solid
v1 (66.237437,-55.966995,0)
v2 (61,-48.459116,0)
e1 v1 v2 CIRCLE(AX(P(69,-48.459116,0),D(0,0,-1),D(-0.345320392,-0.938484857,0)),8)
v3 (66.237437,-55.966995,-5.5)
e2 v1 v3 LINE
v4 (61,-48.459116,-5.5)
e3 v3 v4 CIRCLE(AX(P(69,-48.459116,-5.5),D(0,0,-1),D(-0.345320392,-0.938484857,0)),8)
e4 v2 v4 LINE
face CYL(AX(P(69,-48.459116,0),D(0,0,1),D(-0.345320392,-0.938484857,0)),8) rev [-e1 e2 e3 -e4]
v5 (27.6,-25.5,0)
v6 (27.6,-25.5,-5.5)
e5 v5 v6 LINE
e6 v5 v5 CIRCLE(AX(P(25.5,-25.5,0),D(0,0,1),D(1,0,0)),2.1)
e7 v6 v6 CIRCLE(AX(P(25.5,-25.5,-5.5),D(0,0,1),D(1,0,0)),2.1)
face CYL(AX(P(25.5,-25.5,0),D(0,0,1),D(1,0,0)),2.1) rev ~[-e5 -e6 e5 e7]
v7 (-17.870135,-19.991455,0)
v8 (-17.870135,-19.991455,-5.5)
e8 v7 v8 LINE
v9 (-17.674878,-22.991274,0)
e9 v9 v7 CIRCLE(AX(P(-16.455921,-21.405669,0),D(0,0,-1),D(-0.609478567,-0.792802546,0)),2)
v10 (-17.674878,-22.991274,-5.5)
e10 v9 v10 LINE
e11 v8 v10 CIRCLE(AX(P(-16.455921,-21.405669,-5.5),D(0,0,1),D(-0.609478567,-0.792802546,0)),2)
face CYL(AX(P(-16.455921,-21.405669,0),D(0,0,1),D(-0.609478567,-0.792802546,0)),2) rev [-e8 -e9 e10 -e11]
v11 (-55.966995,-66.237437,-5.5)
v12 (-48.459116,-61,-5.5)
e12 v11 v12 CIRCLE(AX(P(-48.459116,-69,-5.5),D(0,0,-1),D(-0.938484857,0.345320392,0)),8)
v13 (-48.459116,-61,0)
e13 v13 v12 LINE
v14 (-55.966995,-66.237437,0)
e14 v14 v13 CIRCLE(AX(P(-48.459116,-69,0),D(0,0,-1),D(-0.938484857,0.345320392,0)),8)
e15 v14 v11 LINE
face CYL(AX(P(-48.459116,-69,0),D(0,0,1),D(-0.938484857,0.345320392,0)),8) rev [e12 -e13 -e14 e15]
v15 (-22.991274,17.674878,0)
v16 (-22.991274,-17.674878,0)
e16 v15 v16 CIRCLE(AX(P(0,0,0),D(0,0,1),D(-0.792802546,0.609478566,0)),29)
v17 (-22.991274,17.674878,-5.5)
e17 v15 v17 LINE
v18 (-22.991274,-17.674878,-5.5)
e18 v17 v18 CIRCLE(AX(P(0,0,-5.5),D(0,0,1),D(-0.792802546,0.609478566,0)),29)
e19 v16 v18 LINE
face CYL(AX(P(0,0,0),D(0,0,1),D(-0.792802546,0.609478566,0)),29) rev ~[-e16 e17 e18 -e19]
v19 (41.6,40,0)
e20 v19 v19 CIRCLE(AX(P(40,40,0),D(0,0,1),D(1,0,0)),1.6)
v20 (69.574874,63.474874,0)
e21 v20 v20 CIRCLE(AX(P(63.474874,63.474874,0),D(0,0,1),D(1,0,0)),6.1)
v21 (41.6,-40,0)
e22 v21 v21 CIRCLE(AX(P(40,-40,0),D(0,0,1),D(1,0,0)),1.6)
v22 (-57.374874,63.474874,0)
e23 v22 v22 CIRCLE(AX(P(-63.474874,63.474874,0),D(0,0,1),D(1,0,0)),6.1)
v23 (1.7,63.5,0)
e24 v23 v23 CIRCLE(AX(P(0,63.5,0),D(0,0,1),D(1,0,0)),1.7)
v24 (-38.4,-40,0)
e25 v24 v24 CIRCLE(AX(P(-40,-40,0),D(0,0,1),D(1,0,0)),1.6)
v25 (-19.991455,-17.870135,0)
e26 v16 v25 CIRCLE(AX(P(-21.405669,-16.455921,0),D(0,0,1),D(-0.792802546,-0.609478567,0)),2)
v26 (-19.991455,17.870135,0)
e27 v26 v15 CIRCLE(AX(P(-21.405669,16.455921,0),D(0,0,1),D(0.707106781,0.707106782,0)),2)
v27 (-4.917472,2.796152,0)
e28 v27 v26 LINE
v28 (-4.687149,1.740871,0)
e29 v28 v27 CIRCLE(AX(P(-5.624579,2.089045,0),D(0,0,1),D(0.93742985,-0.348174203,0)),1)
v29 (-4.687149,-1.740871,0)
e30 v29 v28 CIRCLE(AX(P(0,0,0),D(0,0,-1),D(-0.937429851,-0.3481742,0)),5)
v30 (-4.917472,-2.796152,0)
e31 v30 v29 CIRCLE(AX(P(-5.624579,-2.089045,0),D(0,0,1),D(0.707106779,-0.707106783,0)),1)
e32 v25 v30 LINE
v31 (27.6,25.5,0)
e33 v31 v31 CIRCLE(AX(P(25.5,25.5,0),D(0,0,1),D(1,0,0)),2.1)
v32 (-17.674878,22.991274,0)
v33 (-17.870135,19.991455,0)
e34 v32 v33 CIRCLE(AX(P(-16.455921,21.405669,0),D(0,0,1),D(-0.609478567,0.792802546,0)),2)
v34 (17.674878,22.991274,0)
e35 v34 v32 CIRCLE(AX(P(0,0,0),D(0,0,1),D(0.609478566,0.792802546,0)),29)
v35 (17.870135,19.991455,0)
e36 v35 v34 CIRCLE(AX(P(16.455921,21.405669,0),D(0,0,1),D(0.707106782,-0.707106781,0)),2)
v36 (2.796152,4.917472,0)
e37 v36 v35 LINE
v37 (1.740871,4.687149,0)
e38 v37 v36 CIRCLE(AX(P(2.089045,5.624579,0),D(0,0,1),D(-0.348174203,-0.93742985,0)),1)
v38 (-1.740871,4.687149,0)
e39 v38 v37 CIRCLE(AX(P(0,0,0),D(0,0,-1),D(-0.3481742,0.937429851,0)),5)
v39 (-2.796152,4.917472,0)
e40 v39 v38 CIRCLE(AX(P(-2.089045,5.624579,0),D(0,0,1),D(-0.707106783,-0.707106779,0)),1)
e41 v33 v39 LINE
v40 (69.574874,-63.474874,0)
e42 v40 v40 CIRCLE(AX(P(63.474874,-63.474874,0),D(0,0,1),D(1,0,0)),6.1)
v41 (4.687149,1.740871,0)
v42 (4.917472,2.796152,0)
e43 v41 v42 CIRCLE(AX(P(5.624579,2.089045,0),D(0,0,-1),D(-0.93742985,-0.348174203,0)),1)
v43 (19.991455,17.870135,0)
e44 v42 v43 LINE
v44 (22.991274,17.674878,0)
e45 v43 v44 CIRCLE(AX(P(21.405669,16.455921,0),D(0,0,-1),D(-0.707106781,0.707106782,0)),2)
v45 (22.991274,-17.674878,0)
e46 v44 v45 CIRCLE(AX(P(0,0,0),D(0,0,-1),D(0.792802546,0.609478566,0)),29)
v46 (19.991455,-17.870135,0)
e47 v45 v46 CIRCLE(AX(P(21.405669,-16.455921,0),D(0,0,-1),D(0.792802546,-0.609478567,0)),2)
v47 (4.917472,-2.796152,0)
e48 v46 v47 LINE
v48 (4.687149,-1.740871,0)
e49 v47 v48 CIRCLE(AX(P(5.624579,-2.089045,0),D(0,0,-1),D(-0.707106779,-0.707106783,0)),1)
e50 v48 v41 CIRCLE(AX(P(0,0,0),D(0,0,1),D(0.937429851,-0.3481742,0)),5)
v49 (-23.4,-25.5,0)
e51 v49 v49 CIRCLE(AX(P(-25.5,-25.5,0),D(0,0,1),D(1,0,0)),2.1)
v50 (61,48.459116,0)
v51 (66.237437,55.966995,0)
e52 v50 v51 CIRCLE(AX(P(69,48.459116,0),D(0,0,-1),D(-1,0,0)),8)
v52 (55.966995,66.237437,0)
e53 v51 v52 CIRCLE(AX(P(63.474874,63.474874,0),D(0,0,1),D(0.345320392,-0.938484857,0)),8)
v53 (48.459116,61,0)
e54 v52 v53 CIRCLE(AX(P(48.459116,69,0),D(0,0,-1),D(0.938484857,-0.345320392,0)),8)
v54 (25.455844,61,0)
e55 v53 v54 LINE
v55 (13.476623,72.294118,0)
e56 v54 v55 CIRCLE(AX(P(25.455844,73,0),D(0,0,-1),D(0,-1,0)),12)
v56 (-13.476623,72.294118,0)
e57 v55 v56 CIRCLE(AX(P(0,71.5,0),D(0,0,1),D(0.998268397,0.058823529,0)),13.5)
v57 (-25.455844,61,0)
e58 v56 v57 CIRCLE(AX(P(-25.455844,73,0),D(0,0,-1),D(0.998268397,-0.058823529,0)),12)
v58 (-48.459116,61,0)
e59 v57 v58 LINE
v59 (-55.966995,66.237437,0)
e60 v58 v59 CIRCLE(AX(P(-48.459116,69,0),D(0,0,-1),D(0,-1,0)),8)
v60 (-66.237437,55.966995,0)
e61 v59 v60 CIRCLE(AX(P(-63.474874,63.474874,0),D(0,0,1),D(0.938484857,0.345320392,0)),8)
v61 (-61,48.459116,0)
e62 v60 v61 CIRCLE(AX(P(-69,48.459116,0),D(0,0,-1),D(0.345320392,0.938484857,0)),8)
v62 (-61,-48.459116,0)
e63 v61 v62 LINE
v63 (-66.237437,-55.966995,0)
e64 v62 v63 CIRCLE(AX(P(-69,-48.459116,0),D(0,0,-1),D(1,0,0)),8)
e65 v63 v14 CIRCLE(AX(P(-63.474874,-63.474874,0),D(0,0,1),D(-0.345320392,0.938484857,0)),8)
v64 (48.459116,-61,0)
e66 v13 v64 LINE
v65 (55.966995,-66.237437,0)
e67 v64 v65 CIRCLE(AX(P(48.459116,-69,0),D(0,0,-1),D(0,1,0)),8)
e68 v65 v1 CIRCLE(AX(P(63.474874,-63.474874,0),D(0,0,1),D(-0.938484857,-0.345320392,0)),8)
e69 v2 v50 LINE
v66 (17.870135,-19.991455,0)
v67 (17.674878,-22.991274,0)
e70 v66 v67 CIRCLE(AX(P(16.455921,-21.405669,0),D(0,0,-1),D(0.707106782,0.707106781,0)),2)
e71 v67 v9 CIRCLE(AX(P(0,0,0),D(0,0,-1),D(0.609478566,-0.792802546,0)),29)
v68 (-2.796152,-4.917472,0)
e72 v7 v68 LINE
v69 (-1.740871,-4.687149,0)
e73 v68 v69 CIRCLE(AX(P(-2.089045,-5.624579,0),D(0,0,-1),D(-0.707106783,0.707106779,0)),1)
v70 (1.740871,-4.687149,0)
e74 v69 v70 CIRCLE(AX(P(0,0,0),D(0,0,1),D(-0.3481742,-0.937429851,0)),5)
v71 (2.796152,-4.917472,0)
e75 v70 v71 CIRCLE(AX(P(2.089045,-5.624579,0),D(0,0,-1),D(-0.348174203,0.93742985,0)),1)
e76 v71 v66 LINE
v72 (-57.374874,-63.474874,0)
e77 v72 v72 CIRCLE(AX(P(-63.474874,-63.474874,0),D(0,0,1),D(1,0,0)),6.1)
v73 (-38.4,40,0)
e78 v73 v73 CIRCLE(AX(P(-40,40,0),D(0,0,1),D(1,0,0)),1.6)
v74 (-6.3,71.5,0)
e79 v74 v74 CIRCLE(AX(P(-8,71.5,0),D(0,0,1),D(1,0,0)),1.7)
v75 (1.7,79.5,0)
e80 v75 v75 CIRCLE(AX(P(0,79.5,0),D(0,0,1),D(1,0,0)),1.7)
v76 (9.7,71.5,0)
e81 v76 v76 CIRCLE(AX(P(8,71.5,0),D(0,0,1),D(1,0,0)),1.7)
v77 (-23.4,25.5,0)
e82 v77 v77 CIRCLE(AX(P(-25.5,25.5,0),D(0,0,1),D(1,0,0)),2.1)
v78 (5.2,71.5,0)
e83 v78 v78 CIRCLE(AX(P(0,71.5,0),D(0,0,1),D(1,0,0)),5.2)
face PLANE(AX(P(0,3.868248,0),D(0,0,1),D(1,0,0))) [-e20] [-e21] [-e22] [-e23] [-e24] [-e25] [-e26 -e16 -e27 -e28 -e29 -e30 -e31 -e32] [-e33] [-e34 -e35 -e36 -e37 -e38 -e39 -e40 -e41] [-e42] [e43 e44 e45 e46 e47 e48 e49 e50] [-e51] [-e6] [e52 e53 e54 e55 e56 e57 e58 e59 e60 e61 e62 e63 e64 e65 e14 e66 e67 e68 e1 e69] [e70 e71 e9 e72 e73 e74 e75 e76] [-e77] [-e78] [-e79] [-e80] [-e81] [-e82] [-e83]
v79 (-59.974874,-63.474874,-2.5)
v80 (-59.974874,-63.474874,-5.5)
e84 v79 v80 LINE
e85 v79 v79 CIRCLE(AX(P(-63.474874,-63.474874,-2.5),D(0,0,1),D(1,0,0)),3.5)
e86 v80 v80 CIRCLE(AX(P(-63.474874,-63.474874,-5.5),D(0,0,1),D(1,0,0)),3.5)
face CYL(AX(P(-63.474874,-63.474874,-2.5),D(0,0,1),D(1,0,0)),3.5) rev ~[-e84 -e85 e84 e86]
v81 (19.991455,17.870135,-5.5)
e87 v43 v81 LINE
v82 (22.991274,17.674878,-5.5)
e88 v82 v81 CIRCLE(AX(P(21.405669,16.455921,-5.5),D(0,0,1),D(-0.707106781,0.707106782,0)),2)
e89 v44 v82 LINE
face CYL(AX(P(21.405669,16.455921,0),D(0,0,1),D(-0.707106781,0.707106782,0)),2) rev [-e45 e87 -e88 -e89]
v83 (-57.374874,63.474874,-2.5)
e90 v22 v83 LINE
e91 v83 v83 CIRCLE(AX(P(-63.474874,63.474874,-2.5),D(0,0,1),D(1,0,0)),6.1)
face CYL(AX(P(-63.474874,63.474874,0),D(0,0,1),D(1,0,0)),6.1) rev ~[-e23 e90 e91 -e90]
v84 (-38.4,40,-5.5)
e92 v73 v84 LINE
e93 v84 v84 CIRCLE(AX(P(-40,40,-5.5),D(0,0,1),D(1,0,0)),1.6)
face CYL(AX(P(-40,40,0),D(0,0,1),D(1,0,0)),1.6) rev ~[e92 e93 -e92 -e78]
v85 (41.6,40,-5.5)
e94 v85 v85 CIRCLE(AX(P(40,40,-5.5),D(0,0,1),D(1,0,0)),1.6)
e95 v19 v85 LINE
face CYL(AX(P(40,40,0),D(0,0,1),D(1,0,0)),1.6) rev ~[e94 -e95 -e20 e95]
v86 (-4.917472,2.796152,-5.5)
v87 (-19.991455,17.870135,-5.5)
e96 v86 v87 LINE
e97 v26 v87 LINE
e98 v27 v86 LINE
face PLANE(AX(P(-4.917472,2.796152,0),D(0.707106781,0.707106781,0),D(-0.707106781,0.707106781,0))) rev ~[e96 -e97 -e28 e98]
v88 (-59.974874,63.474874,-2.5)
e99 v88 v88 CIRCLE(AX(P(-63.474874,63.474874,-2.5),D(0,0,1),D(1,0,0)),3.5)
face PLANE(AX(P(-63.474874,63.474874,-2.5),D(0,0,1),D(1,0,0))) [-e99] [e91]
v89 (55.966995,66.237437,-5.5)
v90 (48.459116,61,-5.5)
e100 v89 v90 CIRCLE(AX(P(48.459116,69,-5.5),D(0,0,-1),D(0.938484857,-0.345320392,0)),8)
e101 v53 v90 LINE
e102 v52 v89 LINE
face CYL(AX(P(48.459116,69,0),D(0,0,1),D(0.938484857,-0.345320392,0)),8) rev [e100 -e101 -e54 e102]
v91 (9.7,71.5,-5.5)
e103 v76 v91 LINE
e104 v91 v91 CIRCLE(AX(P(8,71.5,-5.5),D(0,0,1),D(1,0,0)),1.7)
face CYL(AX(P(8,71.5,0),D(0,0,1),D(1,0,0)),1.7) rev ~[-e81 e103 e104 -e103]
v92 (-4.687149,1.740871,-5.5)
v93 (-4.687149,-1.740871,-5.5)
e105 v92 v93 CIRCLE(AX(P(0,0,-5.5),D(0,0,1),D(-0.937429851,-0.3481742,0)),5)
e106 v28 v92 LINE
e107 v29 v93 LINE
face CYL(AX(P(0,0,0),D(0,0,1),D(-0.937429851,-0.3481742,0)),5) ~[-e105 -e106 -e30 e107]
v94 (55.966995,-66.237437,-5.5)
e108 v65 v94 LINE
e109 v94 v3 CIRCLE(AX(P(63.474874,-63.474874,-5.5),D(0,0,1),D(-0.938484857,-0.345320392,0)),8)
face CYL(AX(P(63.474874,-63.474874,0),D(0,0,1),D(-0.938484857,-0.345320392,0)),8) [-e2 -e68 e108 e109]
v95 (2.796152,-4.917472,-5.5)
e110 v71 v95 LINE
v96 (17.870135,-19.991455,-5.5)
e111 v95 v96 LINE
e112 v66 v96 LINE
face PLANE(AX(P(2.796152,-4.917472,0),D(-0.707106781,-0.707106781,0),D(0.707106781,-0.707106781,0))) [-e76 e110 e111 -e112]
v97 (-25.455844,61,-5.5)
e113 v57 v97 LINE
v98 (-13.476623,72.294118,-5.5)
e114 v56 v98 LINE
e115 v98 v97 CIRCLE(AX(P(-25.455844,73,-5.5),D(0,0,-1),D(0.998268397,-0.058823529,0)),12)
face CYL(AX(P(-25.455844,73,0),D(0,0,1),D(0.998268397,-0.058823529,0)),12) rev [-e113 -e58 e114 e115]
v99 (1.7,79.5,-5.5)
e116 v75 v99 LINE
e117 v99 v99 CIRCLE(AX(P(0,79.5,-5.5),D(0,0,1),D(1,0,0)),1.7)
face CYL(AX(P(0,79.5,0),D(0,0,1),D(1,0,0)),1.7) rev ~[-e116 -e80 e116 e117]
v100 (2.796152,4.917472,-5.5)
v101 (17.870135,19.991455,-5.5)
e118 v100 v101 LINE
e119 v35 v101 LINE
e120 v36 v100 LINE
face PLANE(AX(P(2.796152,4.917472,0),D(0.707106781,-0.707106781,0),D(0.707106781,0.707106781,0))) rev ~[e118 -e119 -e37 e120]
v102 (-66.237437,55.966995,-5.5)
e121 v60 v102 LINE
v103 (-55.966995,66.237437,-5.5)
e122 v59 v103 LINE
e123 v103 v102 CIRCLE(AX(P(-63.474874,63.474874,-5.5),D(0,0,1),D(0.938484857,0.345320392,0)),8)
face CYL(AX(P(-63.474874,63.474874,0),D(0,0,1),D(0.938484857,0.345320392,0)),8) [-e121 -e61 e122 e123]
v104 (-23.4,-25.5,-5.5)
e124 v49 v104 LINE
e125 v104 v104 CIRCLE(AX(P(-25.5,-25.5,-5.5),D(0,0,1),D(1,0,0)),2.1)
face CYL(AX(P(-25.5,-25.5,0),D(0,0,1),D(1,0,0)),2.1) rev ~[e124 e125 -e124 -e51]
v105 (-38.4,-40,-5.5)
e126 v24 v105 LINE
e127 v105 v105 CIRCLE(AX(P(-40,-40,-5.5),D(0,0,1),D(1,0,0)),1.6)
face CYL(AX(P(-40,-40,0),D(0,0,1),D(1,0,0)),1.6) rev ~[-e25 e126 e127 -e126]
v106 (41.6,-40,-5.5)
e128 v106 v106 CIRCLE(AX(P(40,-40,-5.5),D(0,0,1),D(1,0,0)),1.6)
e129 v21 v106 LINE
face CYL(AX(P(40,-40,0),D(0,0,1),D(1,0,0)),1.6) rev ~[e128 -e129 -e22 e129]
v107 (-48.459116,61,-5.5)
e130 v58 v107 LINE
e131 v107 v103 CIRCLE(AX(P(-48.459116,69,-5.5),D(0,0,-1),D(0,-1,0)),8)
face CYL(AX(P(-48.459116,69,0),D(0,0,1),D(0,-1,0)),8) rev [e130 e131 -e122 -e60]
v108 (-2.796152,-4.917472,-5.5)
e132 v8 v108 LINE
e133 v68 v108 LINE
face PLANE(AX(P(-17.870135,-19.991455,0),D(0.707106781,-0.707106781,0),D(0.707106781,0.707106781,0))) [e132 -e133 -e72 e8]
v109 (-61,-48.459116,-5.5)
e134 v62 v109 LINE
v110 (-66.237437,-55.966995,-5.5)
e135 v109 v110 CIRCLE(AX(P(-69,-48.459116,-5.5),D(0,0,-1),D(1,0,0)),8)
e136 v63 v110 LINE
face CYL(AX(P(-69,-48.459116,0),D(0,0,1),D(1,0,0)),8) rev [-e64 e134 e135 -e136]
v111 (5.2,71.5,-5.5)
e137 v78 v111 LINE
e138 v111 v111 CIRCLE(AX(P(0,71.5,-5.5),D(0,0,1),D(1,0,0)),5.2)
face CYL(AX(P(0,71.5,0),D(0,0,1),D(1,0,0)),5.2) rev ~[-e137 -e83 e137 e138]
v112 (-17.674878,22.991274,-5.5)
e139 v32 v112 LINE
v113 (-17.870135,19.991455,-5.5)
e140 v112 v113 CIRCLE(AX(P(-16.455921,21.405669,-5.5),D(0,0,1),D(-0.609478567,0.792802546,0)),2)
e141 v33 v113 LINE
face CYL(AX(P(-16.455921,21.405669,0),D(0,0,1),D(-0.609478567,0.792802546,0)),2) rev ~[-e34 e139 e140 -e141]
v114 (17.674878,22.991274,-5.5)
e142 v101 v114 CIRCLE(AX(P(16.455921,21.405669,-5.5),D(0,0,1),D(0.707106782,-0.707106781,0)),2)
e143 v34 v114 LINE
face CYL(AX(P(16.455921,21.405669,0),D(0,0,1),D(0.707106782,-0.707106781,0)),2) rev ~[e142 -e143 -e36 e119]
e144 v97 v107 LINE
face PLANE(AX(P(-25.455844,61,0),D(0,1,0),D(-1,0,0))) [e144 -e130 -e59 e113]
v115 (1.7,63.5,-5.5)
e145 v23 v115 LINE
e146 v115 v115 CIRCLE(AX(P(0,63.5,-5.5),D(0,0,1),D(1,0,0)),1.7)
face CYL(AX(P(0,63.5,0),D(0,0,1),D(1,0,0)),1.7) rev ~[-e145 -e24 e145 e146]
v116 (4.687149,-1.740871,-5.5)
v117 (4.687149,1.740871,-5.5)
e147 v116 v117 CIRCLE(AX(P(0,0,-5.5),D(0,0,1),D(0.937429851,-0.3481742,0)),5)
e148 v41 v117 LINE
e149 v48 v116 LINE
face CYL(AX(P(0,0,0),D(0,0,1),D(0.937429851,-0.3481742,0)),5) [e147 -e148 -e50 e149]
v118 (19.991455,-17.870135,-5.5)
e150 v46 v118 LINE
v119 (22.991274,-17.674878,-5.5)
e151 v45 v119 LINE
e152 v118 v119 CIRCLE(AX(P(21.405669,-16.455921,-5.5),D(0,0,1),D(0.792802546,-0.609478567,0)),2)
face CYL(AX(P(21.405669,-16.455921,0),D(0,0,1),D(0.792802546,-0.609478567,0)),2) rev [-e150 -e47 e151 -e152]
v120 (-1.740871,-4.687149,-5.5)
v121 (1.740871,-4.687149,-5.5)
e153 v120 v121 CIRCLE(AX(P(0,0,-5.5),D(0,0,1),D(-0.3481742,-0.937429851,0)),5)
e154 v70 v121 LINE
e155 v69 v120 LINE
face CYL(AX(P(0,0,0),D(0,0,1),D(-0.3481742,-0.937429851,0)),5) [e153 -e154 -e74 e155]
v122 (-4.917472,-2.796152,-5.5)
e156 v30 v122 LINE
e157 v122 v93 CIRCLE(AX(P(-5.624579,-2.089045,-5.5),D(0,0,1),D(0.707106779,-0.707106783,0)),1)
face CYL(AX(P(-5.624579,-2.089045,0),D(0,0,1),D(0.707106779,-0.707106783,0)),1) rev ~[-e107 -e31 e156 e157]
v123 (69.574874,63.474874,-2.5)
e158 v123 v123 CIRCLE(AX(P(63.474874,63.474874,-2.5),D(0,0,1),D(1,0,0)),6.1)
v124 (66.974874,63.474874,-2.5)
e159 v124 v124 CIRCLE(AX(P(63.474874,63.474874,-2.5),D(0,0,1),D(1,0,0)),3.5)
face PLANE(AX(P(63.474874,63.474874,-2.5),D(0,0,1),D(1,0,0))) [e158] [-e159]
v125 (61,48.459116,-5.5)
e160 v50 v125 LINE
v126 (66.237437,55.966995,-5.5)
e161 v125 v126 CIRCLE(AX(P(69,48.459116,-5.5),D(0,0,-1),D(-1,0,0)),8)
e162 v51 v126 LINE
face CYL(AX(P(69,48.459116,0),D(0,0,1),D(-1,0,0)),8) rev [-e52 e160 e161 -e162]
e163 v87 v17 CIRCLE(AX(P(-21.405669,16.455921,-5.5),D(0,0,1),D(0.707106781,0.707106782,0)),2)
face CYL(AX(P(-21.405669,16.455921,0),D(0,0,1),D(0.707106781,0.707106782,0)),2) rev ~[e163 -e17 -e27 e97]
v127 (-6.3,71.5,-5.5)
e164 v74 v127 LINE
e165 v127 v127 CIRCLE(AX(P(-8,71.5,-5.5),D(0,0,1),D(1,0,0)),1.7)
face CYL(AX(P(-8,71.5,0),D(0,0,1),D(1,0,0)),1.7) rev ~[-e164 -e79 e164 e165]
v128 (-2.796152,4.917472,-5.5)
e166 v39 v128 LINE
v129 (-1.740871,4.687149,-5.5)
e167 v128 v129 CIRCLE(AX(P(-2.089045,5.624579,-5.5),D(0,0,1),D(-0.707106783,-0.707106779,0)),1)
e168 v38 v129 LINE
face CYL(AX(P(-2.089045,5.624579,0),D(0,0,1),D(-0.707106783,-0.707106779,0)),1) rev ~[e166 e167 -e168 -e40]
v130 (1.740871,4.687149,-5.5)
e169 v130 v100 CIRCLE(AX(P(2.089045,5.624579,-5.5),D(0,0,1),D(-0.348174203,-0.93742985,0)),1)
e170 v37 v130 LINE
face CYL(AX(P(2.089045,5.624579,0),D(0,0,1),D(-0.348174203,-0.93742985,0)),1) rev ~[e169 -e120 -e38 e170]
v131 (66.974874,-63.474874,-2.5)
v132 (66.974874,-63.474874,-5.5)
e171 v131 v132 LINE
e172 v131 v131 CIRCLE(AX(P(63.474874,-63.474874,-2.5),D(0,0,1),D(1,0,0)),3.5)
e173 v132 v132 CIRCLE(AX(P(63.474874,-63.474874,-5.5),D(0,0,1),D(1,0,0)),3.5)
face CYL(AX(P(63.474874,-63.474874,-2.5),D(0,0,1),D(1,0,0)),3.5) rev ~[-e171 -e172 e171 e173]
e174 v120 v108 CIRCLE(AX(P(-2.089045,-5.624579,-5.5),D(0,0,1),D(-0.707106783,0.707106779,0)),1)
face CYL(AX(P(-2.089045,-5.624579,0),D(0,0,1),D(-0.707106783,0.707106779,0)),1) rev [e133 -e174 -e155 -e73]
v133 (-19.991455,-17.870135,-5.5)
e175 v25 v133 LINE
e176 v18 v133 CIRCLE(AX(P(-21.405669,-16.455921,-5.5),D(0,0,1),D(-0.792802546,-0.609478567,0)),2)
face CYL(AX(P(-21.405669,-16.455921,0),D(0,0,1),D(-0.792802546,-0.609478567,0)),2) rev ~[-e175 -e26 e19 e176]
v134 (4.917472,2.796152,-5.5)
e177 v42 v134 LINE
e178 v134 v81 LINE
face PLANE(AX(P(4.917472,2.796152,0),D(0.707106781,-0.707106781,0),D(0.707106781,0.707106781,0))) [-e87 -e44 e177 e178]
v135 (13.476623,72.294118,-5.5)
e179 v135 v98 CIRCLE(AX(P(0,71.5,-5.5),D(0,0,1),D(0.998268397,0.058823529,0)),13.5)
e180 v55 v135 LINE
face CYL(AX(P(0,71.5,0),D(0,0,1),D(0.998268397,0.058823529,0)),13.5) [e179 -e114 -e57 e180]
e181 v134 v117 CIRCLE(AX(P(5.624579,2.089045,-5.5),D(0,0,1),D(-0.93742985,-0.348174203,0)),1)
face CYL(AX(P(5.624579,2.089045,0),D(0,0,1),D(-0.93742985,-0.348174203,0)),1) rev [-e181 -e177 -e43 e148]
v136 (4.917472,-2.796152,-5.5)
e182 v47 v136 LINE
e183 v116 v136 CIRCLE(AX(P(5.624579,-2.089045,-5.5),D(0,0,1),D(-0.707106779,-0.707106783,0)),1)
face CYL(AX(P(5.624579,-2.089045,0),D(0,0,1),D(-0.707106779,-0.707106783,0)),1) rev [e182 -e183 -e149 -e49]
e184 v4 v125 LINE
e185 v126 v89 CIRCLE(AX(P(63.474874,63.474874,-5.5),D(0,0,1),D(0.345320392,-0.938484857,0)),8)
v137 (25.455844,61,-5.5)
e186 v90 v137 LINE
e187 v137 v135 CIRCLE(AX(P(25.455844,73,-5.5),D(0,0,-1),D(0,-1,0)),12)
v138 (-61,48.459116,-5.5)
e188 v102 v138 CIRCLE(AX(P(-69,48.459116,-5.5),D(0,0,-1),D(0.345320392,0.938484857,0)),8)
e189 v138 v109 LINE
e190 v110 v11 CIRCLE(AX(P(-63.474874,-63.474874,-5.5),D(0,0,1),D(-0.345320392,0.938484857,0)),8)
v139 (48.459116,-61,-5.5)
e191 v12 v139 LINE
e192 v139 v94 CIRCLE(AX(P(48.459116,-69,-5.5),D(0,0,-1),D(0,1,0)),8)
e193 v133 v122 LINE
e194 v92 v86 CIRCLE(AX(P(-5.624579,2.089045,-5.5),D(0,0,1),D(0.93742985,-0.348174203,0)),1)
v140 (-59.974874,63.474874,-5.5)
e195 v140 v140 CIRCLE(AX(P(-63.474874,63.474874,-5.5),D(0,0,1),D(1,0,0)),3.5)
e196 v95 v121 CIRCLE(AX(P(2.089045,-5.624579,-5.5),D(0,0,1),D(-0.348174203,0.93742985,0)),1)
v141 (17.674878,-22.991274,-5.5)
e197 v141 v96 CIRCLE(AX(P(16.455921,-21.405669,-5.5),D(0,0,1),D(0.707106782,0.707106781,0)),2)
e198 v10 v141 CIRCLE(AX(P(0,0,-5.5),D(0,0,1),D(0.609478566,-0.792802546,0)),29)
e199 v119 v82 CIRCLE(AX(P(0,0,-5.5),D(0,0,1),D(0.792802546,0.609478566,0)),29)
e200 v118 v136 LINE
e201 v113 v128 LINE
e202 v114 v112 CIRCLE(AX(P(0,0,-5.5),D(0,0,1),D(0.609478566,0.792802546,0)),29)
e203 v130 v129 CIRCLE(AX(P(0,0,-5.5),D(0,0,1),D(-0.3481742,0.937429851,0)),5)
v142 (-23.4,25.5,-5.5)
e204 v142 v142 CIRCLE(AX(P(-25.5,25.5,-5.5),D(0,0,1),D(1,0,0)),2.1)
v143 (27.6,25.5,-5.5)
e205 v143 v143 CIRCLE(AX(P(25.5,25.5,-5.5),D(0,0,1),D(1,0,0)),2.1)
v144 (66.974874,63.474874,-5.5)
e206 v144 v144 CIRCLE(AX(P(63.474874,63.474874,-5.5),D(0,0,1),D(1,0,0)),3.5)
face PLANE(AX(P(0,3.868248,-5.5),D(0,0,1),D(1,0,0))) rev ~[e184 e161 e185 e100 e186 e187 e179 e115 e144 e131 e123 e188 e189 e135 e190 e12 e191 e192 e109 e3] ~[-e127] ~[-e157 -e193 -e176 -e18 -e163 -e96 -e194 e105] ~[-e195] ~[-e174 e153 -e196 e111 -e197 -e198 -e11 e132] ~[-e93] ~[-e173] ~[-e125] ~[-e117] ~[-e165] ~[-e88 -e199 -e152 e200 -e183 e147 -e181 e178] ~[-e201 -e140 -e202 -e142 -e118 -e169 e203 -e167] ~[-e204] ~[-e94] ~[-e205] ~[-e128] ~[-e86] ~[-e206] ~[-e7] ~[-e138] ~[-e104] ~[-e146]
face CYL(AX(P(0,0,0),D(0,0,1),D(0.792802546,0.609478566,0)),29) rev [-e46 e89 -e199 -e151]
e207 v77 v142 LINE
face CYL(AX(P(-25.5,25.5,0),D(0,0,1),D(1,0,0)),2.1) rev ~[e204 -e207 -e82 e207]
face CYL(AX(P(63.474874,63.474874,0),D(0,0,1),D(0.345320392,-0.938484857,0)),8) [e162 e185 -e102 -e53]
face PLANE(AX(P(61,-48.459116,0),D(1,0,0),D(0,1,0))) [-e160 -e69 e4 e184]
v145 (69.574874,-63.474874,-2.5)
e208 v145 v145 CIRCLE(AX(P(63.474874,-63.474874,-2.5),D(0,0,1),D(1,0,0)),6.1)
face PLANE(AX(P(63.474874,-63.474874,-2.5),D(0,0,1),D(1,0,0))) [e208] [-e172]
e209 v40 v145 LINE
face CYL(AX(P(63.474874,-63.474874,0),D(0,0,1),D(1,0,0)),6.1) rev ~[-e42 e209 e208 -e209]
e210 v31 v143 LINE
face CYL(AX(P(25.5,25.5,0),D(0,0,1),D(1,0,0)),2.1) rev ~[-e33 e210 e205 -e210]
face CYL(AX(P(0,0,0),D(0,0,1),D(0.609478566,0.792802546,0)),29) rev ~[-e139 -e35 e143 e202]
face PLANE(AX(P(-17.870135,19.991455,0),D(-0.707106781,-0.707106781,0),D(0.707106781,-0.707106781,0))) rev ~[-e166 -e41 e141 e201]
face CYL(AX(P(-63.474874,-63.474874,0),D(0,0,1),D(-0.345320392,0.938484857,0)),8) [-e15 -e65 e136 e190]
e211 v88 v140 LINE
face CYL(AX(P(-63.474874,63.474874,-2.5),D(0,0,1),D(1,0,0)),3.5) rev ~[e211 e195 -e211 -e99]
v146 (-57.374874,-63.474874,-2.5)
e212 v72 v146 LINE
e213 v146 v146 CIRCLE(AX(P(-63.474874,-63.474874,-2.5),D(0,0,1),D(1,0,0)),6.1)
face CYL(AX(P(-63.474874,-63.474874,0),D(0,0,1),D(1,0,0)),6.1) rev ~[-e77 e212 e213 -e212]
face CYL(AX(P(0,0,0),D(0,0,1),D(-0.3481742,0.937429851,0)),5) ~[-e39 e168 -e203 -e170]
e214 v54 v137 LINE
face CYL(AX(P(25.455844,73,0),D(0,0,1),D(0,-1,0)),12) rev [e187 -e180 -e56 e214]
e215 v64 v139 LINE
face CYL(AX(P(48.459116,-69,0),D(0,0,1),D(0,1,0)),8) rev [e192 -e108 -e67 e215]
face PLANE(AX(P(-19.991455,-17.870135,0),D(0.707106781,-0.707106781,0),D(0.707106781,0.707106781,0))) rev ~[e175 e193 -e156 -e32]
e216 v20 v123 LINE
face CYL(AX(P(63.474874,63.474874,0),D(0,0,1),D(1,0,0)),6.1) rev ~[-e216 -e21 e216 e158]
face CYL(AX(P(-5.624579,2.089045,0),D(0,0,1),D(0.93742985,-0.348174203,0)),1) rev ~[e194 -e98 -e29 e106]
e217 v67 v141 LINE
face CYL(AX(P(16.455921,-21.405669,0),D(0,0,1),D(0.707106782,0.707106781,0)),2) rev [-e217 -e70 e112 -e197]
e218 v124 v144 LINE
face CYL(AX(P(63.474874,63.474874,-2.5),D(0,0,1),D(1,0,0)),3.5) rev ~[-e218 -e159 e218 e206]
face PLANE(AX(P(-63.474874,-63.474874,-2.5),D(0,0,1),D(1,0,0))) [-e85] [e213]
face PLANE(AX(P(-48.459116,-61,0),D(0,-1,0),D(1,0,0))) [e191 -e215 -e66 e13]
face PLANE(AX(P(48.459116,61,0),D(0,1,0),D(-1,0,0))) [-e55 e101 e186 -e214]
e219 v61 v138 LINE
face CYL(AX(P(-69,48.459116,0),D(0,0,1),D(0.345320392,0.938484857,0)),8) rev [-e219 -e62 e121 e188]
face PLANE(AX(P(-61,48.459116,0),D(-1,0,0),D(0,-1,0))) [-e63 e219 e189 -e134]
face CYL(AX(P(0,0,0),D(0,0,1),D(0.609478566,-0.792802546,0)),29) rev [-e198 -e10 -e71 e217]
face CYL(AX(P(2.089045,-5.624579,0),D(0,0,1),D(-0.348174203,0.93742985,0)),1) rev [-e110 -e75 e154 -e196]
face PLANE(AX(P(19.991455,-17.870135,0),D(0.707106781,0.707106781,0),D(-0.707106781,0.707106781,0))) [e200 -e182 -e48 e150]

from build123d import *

# Parameters (mm, degrees)
EXTRUDE_1_DEPTH     = 5.5
SKETCH_2_R          = 6.1
CUT_EXTRUDE_1_DEPTH = 2.5
SKETCH_3_R          = 3.5
CUT_EXTRUDE_2_DEPTH = 3
SKETCH_4_R          = 1.7
CUT_EXTRUDE_3_DEPTH = 5.5
SKETCH_5_R          = 5.2
CUT_EXTRUDE_4_DEPTH = 5.5
SKETCH_6_R          = 1.6
SKETCH_6_R_2        = 2.1
CUT_EXTRUDE_5_DEPTH = 5.5
CUT_EXTRUDE_6_DEPTH = 10


with BuildPart() as part:
    # 草图1 → 凸台-拉伸1 (new body)
    with BuildSketch(Plane.XY):
        with BuildLine():
            Line((-48.459116019, -61), (48.459116019, -61))
            ThreePointArc((48.459116019, -61), (53.03620543, -62.438730875), (55.966994877, -66.237436867))
            ThreePointArc((55.966994877, -66.237436867), (69.131727984, -69.131727984), (66.237436867, -55.966994877))
            ThreePointArc((66.237436867, -55.966994877), (62.438730875, -53.03620543), (61, -48.459116019))
            Line((61, -48.459116019), (61, 48.459116019))
            ThreePointArc((61, 48.459116019), (62.438730875, 53.03620543), (66.237436867, 55.966994877))
            ThreePointArc((66.237436867, 55.966994877), (69.131727984, 69.131727984), (55.966994877, 66.237436867))
            ThreePointArc((55.966994877, 66.237436867), (53.03620543, 62.438730875), (48.459116019, 61))
            Line((48.459116019, 61), (25.455844123, 61))
            ThreePointArc((25.455844123, 61), (17.223912036, 64.268717499), (13.476623359, 72.294117647))
            ThreePointArc((13.476623359, 72.294117647), (0, 85), (-13.476623359, 72.294117647))
            ThreePointArc((-13.476623359, 72.294117647), (-17.223912036, 64.268717499), (-25.455844123, 61))
            Line((-25.455844123, 61), (-48.459116019, 61))
            ThreePointArc((-48.459116019, 61), (-53.03620543, 62.438730875), (-55.966994877, 66.237436867))
            ThreePointArc((-55.966994877, 66.237436867), (-69.131727984, 69.131727984), (-66.237436867, 55.966994877))
            ThreePointArc((-66.237436867, 55.966994877), (-62.438730875, 53.03620543), (-61, 48.459116019))
            Line((-61, 48.459116019), (-61, -48.459116019))
            ThreePointArc((-61, -48.459116019), (-62.438730875, -53.03620543), (-66.237436867, -55.966994877))
            ThreePointArc((-66.237436867, -55.966994877), (-69.131727984, -69.131727984), (-55.966994877, -66.237436867))
            ThreePointArc((-55.966994877, -66.237436867), (-53.03620543, -62.438730875), (-48.459116019, -61))
        make_face()
    extrude(amount=-EXTRUDE_1_DEPTH)

    # 草图2 → 切除-拉伸1 (cut)
    with BuildSketch(Plane.XY):
        with Locations((-63.474873734, 63.474873734)):
            Circle(SKETCH_2_R)
        with Locations((63.474873734, 63.474873734)):
            Circle(SKETCH_2_R)
        with Locations((63.474873734, -63.474873734)):
            Circle(SKETCH_2_R)
        with Locations((-63.474873734, -63.474873734)):
            Circle(SKETCH_2_R)
    extrude(amount=-CUT_EXTRUDE_1_DEPTH, mode=Mode.SUBTRACT)

    # 草图3 → 切除-拉伸2 (cut)
    with BuildSketch(Plane.XY.offset(-2.5)):
        with Locations((-63.474873734, 63.474873734)):
            Circle(SKETCH_3_R)
        with Locations((63.474873734, 63.474873734)):
            Circle(SKETCH_3_R)
        with Locations((-63.474873734, -63.474873734)):
            Circle(SKETCH_3_R)
        with Locations((63.474873734, -63.474873734)):
            Circle(SKETCH_3_R)
    extrude(amount=-CUT_EXTRUDE_2_DEPTH, mode=Mode.SUBTRACT)

    # 草图4 → 切除-拉伸3 (cut)
    with BuildSketch(Plane.XY):
        with Locations((8, 71.5)):
            Circle(SKETCH_4_R)
        with Locations((0, 79.5)):
            Circle(SKETCH_4_R)
        with Locations((-8, 71.5)):
            Circle(SKETCH_4_R)
        with Locations((0, 63.5)):
            Circle(SKETCH_4_R)
    extrude(amount=-CUT_EXTRUDE_3_DEPTH, mode=Mode.SUBTRACT)

    # 草图5 → 切除-拉伸4 (cut)
    with BuildSketch(Plane.XY):
        with Locations((0, 71.5)):
            Circle(SKETCH_5_R)
    extrude(amount=-CUT_EXTRUDE_4_DEPTH, mode=Mode.SUBTRACT)

    # 草图6 → 切除-拉伸5 (cut)
    with BuildSketch(Plane.XY):
        with Locations((-40, 40)):
            Circle(SKETCH_6_R)
        with Locations((40, 40)):
            Circle(SKETCH_6_R)
        with Locations((40, -40)):
            Circle(SKETCH_6_R)
        with Locations((-40, -40)):
            Circle(SKETCH_6_R)
        with Locations((-25.5, 25.5)):
            Circle(SKETCH_6_R_2)
        with Locations((25.5, 25.5)):
            Circle(SKETCH_6_R_2)
        with Locations((25.5, -25.5)):
            Circle(SKETCH_6_R_2)
        with Locations((-25.5, -25.5)):
            Circle(SKETCH_6_R_2)
    extrude(amount=-CUT_EXTRUDE_5_DEPTH, mode=Mode.SUBTRACT)

    # 草图8 → 切除-拉伸6 (cut)
    with BuildSketch(Plane.XY):
        with BuildLine():
            Line((4.917472327, 2.796151983), (19.991455189, 17.870134846))
            ThreePointArc((19.991455189, 17.870134846), (21.535572688, 18.451698066), (22.991273845, 17.674878416))
            ThreePointArc((22.991273845, 17.674878416), (29, 0), (22.991273845, -17.674878416))
            ThreePointArc((22.991273845, -17.674878416), (21.535572688, -18.451698066), (19.991455189, -17.870134846))
            Line((19.991455189, -17.870134846), (4.917472327, -2.796151983))
            ThreePointArc((4.917472327, -2.796151983), (4.647578764, -2.30228293), (4.687149257, -1.740871002))
            ThreePointArc((4.687149257, -1.740871002), (5, 0), (4.687149257, 1.740871002))
            ThreePointArc((4.687149257, 1.740871002), (4.647578764, 2.30228293), (4.917472327, 2.796151983))
        make_face()
        with BuildLine():
            Line((2.796151983, 4.917472327), (17.870134846, 19.991455189))
            ThreePointArc((17.870134846, 19.991455189), (18.451698066, 21.535572688), (17.674878416, 22.991273845))
            ThreePointArc((17.674878416, 22.991273845), (0, 29), (-17.674878416, 22.991273845))
            ThreePointArc((-17.674878416, 22.991273845), (-18.451698066, 21.535572688), (-17.870134846, 19.991455189))
            Line((-17.870134846, 19.991455189), (-2.796151983, 4.917472327))
            ThreePointArc((-2.796151983, 4.917472327), (-2.30228293, 4.647578764), (-1.740871002, 4.687149257))
            ThreePointArc((-1.740871002, 4.687149257), (0, 5), (1.740871002, 4.687149257))
            ThreePointArc((1.740871002, 4.687149257), (2.30228293, 4.647578764), (2.796151983, 4.917472327))
        make_face()
        with BuildLine():
            Line((-4.917472327, 2.796151983), (-19.991455189, 17.870134846))
            ThreePointArc((-19.991455189, 17.870134846), (-21.535572688, 18.451698066), (-22.991273845, 17.674878416))
            ThreePointArc((-22.991273845, 17.674878416), (-29, 0), (-22.991273845, -17.674878416))
            ThreePointArc((-22.991273845, -17.674878416), (-21.535572688, -18.451698066), (-19.991455189, -17.870134846))
            Line((-19.991455189, -17.870134846), (-4.917472327, -2.796151983))
            ThreePointArc((-4.917472327, -2.796151983), (-4.647578764, -2.30228293), (-4.687149257, -1.740871002))
            ThreePointArc((-4.687149257, -1.740871002), (-5, 0), (-4.687149257, 1.740871002))
            ThreePointArc((-4.687149257, 1.740871002), (-4.647578764, 2.30228293), (-4.917472327, 2.796151983))
        make_face()
        with BuildLine():
            Line((2.796151983, -4.917472327), (17.870134846, -19.991455189))
            ThreePointArc((17.870134846, -19.991455189), (18.451698066, -21.535572688), (17.674878416, -22.991273845))
            ThreePointArc((17.674878416, -22.991273845), (0, -29), (-17.674878416, -22.991273845))
            ThreePointArc((-17.674878416, -22.991273845), (-18.451698066, -21.535572688), (-17.870134846, -19.991455189))
            Line((-17.870134846, -19.991455189), (-2.796151983, -4.917472327))
            ThreePointArc((-2.796151983, -4.917472327), (-2.30228293, -4.647578764), (-1.740871002, -4.687149257))
            ThreePointArc((-1.740871002, -4.687149257), (0, -5), (1.740871002, -4.687149257))
            ThreePointArc((1.740871002, -4.687149257), (2.30228293, -4.647578764), (2.796151983, -4.917472327))
        make_face()
    extrude(amount=-CUT_EXTRUDE_6_DEPTH, mode=Mode.SUBTRACT)


solid = part.part
